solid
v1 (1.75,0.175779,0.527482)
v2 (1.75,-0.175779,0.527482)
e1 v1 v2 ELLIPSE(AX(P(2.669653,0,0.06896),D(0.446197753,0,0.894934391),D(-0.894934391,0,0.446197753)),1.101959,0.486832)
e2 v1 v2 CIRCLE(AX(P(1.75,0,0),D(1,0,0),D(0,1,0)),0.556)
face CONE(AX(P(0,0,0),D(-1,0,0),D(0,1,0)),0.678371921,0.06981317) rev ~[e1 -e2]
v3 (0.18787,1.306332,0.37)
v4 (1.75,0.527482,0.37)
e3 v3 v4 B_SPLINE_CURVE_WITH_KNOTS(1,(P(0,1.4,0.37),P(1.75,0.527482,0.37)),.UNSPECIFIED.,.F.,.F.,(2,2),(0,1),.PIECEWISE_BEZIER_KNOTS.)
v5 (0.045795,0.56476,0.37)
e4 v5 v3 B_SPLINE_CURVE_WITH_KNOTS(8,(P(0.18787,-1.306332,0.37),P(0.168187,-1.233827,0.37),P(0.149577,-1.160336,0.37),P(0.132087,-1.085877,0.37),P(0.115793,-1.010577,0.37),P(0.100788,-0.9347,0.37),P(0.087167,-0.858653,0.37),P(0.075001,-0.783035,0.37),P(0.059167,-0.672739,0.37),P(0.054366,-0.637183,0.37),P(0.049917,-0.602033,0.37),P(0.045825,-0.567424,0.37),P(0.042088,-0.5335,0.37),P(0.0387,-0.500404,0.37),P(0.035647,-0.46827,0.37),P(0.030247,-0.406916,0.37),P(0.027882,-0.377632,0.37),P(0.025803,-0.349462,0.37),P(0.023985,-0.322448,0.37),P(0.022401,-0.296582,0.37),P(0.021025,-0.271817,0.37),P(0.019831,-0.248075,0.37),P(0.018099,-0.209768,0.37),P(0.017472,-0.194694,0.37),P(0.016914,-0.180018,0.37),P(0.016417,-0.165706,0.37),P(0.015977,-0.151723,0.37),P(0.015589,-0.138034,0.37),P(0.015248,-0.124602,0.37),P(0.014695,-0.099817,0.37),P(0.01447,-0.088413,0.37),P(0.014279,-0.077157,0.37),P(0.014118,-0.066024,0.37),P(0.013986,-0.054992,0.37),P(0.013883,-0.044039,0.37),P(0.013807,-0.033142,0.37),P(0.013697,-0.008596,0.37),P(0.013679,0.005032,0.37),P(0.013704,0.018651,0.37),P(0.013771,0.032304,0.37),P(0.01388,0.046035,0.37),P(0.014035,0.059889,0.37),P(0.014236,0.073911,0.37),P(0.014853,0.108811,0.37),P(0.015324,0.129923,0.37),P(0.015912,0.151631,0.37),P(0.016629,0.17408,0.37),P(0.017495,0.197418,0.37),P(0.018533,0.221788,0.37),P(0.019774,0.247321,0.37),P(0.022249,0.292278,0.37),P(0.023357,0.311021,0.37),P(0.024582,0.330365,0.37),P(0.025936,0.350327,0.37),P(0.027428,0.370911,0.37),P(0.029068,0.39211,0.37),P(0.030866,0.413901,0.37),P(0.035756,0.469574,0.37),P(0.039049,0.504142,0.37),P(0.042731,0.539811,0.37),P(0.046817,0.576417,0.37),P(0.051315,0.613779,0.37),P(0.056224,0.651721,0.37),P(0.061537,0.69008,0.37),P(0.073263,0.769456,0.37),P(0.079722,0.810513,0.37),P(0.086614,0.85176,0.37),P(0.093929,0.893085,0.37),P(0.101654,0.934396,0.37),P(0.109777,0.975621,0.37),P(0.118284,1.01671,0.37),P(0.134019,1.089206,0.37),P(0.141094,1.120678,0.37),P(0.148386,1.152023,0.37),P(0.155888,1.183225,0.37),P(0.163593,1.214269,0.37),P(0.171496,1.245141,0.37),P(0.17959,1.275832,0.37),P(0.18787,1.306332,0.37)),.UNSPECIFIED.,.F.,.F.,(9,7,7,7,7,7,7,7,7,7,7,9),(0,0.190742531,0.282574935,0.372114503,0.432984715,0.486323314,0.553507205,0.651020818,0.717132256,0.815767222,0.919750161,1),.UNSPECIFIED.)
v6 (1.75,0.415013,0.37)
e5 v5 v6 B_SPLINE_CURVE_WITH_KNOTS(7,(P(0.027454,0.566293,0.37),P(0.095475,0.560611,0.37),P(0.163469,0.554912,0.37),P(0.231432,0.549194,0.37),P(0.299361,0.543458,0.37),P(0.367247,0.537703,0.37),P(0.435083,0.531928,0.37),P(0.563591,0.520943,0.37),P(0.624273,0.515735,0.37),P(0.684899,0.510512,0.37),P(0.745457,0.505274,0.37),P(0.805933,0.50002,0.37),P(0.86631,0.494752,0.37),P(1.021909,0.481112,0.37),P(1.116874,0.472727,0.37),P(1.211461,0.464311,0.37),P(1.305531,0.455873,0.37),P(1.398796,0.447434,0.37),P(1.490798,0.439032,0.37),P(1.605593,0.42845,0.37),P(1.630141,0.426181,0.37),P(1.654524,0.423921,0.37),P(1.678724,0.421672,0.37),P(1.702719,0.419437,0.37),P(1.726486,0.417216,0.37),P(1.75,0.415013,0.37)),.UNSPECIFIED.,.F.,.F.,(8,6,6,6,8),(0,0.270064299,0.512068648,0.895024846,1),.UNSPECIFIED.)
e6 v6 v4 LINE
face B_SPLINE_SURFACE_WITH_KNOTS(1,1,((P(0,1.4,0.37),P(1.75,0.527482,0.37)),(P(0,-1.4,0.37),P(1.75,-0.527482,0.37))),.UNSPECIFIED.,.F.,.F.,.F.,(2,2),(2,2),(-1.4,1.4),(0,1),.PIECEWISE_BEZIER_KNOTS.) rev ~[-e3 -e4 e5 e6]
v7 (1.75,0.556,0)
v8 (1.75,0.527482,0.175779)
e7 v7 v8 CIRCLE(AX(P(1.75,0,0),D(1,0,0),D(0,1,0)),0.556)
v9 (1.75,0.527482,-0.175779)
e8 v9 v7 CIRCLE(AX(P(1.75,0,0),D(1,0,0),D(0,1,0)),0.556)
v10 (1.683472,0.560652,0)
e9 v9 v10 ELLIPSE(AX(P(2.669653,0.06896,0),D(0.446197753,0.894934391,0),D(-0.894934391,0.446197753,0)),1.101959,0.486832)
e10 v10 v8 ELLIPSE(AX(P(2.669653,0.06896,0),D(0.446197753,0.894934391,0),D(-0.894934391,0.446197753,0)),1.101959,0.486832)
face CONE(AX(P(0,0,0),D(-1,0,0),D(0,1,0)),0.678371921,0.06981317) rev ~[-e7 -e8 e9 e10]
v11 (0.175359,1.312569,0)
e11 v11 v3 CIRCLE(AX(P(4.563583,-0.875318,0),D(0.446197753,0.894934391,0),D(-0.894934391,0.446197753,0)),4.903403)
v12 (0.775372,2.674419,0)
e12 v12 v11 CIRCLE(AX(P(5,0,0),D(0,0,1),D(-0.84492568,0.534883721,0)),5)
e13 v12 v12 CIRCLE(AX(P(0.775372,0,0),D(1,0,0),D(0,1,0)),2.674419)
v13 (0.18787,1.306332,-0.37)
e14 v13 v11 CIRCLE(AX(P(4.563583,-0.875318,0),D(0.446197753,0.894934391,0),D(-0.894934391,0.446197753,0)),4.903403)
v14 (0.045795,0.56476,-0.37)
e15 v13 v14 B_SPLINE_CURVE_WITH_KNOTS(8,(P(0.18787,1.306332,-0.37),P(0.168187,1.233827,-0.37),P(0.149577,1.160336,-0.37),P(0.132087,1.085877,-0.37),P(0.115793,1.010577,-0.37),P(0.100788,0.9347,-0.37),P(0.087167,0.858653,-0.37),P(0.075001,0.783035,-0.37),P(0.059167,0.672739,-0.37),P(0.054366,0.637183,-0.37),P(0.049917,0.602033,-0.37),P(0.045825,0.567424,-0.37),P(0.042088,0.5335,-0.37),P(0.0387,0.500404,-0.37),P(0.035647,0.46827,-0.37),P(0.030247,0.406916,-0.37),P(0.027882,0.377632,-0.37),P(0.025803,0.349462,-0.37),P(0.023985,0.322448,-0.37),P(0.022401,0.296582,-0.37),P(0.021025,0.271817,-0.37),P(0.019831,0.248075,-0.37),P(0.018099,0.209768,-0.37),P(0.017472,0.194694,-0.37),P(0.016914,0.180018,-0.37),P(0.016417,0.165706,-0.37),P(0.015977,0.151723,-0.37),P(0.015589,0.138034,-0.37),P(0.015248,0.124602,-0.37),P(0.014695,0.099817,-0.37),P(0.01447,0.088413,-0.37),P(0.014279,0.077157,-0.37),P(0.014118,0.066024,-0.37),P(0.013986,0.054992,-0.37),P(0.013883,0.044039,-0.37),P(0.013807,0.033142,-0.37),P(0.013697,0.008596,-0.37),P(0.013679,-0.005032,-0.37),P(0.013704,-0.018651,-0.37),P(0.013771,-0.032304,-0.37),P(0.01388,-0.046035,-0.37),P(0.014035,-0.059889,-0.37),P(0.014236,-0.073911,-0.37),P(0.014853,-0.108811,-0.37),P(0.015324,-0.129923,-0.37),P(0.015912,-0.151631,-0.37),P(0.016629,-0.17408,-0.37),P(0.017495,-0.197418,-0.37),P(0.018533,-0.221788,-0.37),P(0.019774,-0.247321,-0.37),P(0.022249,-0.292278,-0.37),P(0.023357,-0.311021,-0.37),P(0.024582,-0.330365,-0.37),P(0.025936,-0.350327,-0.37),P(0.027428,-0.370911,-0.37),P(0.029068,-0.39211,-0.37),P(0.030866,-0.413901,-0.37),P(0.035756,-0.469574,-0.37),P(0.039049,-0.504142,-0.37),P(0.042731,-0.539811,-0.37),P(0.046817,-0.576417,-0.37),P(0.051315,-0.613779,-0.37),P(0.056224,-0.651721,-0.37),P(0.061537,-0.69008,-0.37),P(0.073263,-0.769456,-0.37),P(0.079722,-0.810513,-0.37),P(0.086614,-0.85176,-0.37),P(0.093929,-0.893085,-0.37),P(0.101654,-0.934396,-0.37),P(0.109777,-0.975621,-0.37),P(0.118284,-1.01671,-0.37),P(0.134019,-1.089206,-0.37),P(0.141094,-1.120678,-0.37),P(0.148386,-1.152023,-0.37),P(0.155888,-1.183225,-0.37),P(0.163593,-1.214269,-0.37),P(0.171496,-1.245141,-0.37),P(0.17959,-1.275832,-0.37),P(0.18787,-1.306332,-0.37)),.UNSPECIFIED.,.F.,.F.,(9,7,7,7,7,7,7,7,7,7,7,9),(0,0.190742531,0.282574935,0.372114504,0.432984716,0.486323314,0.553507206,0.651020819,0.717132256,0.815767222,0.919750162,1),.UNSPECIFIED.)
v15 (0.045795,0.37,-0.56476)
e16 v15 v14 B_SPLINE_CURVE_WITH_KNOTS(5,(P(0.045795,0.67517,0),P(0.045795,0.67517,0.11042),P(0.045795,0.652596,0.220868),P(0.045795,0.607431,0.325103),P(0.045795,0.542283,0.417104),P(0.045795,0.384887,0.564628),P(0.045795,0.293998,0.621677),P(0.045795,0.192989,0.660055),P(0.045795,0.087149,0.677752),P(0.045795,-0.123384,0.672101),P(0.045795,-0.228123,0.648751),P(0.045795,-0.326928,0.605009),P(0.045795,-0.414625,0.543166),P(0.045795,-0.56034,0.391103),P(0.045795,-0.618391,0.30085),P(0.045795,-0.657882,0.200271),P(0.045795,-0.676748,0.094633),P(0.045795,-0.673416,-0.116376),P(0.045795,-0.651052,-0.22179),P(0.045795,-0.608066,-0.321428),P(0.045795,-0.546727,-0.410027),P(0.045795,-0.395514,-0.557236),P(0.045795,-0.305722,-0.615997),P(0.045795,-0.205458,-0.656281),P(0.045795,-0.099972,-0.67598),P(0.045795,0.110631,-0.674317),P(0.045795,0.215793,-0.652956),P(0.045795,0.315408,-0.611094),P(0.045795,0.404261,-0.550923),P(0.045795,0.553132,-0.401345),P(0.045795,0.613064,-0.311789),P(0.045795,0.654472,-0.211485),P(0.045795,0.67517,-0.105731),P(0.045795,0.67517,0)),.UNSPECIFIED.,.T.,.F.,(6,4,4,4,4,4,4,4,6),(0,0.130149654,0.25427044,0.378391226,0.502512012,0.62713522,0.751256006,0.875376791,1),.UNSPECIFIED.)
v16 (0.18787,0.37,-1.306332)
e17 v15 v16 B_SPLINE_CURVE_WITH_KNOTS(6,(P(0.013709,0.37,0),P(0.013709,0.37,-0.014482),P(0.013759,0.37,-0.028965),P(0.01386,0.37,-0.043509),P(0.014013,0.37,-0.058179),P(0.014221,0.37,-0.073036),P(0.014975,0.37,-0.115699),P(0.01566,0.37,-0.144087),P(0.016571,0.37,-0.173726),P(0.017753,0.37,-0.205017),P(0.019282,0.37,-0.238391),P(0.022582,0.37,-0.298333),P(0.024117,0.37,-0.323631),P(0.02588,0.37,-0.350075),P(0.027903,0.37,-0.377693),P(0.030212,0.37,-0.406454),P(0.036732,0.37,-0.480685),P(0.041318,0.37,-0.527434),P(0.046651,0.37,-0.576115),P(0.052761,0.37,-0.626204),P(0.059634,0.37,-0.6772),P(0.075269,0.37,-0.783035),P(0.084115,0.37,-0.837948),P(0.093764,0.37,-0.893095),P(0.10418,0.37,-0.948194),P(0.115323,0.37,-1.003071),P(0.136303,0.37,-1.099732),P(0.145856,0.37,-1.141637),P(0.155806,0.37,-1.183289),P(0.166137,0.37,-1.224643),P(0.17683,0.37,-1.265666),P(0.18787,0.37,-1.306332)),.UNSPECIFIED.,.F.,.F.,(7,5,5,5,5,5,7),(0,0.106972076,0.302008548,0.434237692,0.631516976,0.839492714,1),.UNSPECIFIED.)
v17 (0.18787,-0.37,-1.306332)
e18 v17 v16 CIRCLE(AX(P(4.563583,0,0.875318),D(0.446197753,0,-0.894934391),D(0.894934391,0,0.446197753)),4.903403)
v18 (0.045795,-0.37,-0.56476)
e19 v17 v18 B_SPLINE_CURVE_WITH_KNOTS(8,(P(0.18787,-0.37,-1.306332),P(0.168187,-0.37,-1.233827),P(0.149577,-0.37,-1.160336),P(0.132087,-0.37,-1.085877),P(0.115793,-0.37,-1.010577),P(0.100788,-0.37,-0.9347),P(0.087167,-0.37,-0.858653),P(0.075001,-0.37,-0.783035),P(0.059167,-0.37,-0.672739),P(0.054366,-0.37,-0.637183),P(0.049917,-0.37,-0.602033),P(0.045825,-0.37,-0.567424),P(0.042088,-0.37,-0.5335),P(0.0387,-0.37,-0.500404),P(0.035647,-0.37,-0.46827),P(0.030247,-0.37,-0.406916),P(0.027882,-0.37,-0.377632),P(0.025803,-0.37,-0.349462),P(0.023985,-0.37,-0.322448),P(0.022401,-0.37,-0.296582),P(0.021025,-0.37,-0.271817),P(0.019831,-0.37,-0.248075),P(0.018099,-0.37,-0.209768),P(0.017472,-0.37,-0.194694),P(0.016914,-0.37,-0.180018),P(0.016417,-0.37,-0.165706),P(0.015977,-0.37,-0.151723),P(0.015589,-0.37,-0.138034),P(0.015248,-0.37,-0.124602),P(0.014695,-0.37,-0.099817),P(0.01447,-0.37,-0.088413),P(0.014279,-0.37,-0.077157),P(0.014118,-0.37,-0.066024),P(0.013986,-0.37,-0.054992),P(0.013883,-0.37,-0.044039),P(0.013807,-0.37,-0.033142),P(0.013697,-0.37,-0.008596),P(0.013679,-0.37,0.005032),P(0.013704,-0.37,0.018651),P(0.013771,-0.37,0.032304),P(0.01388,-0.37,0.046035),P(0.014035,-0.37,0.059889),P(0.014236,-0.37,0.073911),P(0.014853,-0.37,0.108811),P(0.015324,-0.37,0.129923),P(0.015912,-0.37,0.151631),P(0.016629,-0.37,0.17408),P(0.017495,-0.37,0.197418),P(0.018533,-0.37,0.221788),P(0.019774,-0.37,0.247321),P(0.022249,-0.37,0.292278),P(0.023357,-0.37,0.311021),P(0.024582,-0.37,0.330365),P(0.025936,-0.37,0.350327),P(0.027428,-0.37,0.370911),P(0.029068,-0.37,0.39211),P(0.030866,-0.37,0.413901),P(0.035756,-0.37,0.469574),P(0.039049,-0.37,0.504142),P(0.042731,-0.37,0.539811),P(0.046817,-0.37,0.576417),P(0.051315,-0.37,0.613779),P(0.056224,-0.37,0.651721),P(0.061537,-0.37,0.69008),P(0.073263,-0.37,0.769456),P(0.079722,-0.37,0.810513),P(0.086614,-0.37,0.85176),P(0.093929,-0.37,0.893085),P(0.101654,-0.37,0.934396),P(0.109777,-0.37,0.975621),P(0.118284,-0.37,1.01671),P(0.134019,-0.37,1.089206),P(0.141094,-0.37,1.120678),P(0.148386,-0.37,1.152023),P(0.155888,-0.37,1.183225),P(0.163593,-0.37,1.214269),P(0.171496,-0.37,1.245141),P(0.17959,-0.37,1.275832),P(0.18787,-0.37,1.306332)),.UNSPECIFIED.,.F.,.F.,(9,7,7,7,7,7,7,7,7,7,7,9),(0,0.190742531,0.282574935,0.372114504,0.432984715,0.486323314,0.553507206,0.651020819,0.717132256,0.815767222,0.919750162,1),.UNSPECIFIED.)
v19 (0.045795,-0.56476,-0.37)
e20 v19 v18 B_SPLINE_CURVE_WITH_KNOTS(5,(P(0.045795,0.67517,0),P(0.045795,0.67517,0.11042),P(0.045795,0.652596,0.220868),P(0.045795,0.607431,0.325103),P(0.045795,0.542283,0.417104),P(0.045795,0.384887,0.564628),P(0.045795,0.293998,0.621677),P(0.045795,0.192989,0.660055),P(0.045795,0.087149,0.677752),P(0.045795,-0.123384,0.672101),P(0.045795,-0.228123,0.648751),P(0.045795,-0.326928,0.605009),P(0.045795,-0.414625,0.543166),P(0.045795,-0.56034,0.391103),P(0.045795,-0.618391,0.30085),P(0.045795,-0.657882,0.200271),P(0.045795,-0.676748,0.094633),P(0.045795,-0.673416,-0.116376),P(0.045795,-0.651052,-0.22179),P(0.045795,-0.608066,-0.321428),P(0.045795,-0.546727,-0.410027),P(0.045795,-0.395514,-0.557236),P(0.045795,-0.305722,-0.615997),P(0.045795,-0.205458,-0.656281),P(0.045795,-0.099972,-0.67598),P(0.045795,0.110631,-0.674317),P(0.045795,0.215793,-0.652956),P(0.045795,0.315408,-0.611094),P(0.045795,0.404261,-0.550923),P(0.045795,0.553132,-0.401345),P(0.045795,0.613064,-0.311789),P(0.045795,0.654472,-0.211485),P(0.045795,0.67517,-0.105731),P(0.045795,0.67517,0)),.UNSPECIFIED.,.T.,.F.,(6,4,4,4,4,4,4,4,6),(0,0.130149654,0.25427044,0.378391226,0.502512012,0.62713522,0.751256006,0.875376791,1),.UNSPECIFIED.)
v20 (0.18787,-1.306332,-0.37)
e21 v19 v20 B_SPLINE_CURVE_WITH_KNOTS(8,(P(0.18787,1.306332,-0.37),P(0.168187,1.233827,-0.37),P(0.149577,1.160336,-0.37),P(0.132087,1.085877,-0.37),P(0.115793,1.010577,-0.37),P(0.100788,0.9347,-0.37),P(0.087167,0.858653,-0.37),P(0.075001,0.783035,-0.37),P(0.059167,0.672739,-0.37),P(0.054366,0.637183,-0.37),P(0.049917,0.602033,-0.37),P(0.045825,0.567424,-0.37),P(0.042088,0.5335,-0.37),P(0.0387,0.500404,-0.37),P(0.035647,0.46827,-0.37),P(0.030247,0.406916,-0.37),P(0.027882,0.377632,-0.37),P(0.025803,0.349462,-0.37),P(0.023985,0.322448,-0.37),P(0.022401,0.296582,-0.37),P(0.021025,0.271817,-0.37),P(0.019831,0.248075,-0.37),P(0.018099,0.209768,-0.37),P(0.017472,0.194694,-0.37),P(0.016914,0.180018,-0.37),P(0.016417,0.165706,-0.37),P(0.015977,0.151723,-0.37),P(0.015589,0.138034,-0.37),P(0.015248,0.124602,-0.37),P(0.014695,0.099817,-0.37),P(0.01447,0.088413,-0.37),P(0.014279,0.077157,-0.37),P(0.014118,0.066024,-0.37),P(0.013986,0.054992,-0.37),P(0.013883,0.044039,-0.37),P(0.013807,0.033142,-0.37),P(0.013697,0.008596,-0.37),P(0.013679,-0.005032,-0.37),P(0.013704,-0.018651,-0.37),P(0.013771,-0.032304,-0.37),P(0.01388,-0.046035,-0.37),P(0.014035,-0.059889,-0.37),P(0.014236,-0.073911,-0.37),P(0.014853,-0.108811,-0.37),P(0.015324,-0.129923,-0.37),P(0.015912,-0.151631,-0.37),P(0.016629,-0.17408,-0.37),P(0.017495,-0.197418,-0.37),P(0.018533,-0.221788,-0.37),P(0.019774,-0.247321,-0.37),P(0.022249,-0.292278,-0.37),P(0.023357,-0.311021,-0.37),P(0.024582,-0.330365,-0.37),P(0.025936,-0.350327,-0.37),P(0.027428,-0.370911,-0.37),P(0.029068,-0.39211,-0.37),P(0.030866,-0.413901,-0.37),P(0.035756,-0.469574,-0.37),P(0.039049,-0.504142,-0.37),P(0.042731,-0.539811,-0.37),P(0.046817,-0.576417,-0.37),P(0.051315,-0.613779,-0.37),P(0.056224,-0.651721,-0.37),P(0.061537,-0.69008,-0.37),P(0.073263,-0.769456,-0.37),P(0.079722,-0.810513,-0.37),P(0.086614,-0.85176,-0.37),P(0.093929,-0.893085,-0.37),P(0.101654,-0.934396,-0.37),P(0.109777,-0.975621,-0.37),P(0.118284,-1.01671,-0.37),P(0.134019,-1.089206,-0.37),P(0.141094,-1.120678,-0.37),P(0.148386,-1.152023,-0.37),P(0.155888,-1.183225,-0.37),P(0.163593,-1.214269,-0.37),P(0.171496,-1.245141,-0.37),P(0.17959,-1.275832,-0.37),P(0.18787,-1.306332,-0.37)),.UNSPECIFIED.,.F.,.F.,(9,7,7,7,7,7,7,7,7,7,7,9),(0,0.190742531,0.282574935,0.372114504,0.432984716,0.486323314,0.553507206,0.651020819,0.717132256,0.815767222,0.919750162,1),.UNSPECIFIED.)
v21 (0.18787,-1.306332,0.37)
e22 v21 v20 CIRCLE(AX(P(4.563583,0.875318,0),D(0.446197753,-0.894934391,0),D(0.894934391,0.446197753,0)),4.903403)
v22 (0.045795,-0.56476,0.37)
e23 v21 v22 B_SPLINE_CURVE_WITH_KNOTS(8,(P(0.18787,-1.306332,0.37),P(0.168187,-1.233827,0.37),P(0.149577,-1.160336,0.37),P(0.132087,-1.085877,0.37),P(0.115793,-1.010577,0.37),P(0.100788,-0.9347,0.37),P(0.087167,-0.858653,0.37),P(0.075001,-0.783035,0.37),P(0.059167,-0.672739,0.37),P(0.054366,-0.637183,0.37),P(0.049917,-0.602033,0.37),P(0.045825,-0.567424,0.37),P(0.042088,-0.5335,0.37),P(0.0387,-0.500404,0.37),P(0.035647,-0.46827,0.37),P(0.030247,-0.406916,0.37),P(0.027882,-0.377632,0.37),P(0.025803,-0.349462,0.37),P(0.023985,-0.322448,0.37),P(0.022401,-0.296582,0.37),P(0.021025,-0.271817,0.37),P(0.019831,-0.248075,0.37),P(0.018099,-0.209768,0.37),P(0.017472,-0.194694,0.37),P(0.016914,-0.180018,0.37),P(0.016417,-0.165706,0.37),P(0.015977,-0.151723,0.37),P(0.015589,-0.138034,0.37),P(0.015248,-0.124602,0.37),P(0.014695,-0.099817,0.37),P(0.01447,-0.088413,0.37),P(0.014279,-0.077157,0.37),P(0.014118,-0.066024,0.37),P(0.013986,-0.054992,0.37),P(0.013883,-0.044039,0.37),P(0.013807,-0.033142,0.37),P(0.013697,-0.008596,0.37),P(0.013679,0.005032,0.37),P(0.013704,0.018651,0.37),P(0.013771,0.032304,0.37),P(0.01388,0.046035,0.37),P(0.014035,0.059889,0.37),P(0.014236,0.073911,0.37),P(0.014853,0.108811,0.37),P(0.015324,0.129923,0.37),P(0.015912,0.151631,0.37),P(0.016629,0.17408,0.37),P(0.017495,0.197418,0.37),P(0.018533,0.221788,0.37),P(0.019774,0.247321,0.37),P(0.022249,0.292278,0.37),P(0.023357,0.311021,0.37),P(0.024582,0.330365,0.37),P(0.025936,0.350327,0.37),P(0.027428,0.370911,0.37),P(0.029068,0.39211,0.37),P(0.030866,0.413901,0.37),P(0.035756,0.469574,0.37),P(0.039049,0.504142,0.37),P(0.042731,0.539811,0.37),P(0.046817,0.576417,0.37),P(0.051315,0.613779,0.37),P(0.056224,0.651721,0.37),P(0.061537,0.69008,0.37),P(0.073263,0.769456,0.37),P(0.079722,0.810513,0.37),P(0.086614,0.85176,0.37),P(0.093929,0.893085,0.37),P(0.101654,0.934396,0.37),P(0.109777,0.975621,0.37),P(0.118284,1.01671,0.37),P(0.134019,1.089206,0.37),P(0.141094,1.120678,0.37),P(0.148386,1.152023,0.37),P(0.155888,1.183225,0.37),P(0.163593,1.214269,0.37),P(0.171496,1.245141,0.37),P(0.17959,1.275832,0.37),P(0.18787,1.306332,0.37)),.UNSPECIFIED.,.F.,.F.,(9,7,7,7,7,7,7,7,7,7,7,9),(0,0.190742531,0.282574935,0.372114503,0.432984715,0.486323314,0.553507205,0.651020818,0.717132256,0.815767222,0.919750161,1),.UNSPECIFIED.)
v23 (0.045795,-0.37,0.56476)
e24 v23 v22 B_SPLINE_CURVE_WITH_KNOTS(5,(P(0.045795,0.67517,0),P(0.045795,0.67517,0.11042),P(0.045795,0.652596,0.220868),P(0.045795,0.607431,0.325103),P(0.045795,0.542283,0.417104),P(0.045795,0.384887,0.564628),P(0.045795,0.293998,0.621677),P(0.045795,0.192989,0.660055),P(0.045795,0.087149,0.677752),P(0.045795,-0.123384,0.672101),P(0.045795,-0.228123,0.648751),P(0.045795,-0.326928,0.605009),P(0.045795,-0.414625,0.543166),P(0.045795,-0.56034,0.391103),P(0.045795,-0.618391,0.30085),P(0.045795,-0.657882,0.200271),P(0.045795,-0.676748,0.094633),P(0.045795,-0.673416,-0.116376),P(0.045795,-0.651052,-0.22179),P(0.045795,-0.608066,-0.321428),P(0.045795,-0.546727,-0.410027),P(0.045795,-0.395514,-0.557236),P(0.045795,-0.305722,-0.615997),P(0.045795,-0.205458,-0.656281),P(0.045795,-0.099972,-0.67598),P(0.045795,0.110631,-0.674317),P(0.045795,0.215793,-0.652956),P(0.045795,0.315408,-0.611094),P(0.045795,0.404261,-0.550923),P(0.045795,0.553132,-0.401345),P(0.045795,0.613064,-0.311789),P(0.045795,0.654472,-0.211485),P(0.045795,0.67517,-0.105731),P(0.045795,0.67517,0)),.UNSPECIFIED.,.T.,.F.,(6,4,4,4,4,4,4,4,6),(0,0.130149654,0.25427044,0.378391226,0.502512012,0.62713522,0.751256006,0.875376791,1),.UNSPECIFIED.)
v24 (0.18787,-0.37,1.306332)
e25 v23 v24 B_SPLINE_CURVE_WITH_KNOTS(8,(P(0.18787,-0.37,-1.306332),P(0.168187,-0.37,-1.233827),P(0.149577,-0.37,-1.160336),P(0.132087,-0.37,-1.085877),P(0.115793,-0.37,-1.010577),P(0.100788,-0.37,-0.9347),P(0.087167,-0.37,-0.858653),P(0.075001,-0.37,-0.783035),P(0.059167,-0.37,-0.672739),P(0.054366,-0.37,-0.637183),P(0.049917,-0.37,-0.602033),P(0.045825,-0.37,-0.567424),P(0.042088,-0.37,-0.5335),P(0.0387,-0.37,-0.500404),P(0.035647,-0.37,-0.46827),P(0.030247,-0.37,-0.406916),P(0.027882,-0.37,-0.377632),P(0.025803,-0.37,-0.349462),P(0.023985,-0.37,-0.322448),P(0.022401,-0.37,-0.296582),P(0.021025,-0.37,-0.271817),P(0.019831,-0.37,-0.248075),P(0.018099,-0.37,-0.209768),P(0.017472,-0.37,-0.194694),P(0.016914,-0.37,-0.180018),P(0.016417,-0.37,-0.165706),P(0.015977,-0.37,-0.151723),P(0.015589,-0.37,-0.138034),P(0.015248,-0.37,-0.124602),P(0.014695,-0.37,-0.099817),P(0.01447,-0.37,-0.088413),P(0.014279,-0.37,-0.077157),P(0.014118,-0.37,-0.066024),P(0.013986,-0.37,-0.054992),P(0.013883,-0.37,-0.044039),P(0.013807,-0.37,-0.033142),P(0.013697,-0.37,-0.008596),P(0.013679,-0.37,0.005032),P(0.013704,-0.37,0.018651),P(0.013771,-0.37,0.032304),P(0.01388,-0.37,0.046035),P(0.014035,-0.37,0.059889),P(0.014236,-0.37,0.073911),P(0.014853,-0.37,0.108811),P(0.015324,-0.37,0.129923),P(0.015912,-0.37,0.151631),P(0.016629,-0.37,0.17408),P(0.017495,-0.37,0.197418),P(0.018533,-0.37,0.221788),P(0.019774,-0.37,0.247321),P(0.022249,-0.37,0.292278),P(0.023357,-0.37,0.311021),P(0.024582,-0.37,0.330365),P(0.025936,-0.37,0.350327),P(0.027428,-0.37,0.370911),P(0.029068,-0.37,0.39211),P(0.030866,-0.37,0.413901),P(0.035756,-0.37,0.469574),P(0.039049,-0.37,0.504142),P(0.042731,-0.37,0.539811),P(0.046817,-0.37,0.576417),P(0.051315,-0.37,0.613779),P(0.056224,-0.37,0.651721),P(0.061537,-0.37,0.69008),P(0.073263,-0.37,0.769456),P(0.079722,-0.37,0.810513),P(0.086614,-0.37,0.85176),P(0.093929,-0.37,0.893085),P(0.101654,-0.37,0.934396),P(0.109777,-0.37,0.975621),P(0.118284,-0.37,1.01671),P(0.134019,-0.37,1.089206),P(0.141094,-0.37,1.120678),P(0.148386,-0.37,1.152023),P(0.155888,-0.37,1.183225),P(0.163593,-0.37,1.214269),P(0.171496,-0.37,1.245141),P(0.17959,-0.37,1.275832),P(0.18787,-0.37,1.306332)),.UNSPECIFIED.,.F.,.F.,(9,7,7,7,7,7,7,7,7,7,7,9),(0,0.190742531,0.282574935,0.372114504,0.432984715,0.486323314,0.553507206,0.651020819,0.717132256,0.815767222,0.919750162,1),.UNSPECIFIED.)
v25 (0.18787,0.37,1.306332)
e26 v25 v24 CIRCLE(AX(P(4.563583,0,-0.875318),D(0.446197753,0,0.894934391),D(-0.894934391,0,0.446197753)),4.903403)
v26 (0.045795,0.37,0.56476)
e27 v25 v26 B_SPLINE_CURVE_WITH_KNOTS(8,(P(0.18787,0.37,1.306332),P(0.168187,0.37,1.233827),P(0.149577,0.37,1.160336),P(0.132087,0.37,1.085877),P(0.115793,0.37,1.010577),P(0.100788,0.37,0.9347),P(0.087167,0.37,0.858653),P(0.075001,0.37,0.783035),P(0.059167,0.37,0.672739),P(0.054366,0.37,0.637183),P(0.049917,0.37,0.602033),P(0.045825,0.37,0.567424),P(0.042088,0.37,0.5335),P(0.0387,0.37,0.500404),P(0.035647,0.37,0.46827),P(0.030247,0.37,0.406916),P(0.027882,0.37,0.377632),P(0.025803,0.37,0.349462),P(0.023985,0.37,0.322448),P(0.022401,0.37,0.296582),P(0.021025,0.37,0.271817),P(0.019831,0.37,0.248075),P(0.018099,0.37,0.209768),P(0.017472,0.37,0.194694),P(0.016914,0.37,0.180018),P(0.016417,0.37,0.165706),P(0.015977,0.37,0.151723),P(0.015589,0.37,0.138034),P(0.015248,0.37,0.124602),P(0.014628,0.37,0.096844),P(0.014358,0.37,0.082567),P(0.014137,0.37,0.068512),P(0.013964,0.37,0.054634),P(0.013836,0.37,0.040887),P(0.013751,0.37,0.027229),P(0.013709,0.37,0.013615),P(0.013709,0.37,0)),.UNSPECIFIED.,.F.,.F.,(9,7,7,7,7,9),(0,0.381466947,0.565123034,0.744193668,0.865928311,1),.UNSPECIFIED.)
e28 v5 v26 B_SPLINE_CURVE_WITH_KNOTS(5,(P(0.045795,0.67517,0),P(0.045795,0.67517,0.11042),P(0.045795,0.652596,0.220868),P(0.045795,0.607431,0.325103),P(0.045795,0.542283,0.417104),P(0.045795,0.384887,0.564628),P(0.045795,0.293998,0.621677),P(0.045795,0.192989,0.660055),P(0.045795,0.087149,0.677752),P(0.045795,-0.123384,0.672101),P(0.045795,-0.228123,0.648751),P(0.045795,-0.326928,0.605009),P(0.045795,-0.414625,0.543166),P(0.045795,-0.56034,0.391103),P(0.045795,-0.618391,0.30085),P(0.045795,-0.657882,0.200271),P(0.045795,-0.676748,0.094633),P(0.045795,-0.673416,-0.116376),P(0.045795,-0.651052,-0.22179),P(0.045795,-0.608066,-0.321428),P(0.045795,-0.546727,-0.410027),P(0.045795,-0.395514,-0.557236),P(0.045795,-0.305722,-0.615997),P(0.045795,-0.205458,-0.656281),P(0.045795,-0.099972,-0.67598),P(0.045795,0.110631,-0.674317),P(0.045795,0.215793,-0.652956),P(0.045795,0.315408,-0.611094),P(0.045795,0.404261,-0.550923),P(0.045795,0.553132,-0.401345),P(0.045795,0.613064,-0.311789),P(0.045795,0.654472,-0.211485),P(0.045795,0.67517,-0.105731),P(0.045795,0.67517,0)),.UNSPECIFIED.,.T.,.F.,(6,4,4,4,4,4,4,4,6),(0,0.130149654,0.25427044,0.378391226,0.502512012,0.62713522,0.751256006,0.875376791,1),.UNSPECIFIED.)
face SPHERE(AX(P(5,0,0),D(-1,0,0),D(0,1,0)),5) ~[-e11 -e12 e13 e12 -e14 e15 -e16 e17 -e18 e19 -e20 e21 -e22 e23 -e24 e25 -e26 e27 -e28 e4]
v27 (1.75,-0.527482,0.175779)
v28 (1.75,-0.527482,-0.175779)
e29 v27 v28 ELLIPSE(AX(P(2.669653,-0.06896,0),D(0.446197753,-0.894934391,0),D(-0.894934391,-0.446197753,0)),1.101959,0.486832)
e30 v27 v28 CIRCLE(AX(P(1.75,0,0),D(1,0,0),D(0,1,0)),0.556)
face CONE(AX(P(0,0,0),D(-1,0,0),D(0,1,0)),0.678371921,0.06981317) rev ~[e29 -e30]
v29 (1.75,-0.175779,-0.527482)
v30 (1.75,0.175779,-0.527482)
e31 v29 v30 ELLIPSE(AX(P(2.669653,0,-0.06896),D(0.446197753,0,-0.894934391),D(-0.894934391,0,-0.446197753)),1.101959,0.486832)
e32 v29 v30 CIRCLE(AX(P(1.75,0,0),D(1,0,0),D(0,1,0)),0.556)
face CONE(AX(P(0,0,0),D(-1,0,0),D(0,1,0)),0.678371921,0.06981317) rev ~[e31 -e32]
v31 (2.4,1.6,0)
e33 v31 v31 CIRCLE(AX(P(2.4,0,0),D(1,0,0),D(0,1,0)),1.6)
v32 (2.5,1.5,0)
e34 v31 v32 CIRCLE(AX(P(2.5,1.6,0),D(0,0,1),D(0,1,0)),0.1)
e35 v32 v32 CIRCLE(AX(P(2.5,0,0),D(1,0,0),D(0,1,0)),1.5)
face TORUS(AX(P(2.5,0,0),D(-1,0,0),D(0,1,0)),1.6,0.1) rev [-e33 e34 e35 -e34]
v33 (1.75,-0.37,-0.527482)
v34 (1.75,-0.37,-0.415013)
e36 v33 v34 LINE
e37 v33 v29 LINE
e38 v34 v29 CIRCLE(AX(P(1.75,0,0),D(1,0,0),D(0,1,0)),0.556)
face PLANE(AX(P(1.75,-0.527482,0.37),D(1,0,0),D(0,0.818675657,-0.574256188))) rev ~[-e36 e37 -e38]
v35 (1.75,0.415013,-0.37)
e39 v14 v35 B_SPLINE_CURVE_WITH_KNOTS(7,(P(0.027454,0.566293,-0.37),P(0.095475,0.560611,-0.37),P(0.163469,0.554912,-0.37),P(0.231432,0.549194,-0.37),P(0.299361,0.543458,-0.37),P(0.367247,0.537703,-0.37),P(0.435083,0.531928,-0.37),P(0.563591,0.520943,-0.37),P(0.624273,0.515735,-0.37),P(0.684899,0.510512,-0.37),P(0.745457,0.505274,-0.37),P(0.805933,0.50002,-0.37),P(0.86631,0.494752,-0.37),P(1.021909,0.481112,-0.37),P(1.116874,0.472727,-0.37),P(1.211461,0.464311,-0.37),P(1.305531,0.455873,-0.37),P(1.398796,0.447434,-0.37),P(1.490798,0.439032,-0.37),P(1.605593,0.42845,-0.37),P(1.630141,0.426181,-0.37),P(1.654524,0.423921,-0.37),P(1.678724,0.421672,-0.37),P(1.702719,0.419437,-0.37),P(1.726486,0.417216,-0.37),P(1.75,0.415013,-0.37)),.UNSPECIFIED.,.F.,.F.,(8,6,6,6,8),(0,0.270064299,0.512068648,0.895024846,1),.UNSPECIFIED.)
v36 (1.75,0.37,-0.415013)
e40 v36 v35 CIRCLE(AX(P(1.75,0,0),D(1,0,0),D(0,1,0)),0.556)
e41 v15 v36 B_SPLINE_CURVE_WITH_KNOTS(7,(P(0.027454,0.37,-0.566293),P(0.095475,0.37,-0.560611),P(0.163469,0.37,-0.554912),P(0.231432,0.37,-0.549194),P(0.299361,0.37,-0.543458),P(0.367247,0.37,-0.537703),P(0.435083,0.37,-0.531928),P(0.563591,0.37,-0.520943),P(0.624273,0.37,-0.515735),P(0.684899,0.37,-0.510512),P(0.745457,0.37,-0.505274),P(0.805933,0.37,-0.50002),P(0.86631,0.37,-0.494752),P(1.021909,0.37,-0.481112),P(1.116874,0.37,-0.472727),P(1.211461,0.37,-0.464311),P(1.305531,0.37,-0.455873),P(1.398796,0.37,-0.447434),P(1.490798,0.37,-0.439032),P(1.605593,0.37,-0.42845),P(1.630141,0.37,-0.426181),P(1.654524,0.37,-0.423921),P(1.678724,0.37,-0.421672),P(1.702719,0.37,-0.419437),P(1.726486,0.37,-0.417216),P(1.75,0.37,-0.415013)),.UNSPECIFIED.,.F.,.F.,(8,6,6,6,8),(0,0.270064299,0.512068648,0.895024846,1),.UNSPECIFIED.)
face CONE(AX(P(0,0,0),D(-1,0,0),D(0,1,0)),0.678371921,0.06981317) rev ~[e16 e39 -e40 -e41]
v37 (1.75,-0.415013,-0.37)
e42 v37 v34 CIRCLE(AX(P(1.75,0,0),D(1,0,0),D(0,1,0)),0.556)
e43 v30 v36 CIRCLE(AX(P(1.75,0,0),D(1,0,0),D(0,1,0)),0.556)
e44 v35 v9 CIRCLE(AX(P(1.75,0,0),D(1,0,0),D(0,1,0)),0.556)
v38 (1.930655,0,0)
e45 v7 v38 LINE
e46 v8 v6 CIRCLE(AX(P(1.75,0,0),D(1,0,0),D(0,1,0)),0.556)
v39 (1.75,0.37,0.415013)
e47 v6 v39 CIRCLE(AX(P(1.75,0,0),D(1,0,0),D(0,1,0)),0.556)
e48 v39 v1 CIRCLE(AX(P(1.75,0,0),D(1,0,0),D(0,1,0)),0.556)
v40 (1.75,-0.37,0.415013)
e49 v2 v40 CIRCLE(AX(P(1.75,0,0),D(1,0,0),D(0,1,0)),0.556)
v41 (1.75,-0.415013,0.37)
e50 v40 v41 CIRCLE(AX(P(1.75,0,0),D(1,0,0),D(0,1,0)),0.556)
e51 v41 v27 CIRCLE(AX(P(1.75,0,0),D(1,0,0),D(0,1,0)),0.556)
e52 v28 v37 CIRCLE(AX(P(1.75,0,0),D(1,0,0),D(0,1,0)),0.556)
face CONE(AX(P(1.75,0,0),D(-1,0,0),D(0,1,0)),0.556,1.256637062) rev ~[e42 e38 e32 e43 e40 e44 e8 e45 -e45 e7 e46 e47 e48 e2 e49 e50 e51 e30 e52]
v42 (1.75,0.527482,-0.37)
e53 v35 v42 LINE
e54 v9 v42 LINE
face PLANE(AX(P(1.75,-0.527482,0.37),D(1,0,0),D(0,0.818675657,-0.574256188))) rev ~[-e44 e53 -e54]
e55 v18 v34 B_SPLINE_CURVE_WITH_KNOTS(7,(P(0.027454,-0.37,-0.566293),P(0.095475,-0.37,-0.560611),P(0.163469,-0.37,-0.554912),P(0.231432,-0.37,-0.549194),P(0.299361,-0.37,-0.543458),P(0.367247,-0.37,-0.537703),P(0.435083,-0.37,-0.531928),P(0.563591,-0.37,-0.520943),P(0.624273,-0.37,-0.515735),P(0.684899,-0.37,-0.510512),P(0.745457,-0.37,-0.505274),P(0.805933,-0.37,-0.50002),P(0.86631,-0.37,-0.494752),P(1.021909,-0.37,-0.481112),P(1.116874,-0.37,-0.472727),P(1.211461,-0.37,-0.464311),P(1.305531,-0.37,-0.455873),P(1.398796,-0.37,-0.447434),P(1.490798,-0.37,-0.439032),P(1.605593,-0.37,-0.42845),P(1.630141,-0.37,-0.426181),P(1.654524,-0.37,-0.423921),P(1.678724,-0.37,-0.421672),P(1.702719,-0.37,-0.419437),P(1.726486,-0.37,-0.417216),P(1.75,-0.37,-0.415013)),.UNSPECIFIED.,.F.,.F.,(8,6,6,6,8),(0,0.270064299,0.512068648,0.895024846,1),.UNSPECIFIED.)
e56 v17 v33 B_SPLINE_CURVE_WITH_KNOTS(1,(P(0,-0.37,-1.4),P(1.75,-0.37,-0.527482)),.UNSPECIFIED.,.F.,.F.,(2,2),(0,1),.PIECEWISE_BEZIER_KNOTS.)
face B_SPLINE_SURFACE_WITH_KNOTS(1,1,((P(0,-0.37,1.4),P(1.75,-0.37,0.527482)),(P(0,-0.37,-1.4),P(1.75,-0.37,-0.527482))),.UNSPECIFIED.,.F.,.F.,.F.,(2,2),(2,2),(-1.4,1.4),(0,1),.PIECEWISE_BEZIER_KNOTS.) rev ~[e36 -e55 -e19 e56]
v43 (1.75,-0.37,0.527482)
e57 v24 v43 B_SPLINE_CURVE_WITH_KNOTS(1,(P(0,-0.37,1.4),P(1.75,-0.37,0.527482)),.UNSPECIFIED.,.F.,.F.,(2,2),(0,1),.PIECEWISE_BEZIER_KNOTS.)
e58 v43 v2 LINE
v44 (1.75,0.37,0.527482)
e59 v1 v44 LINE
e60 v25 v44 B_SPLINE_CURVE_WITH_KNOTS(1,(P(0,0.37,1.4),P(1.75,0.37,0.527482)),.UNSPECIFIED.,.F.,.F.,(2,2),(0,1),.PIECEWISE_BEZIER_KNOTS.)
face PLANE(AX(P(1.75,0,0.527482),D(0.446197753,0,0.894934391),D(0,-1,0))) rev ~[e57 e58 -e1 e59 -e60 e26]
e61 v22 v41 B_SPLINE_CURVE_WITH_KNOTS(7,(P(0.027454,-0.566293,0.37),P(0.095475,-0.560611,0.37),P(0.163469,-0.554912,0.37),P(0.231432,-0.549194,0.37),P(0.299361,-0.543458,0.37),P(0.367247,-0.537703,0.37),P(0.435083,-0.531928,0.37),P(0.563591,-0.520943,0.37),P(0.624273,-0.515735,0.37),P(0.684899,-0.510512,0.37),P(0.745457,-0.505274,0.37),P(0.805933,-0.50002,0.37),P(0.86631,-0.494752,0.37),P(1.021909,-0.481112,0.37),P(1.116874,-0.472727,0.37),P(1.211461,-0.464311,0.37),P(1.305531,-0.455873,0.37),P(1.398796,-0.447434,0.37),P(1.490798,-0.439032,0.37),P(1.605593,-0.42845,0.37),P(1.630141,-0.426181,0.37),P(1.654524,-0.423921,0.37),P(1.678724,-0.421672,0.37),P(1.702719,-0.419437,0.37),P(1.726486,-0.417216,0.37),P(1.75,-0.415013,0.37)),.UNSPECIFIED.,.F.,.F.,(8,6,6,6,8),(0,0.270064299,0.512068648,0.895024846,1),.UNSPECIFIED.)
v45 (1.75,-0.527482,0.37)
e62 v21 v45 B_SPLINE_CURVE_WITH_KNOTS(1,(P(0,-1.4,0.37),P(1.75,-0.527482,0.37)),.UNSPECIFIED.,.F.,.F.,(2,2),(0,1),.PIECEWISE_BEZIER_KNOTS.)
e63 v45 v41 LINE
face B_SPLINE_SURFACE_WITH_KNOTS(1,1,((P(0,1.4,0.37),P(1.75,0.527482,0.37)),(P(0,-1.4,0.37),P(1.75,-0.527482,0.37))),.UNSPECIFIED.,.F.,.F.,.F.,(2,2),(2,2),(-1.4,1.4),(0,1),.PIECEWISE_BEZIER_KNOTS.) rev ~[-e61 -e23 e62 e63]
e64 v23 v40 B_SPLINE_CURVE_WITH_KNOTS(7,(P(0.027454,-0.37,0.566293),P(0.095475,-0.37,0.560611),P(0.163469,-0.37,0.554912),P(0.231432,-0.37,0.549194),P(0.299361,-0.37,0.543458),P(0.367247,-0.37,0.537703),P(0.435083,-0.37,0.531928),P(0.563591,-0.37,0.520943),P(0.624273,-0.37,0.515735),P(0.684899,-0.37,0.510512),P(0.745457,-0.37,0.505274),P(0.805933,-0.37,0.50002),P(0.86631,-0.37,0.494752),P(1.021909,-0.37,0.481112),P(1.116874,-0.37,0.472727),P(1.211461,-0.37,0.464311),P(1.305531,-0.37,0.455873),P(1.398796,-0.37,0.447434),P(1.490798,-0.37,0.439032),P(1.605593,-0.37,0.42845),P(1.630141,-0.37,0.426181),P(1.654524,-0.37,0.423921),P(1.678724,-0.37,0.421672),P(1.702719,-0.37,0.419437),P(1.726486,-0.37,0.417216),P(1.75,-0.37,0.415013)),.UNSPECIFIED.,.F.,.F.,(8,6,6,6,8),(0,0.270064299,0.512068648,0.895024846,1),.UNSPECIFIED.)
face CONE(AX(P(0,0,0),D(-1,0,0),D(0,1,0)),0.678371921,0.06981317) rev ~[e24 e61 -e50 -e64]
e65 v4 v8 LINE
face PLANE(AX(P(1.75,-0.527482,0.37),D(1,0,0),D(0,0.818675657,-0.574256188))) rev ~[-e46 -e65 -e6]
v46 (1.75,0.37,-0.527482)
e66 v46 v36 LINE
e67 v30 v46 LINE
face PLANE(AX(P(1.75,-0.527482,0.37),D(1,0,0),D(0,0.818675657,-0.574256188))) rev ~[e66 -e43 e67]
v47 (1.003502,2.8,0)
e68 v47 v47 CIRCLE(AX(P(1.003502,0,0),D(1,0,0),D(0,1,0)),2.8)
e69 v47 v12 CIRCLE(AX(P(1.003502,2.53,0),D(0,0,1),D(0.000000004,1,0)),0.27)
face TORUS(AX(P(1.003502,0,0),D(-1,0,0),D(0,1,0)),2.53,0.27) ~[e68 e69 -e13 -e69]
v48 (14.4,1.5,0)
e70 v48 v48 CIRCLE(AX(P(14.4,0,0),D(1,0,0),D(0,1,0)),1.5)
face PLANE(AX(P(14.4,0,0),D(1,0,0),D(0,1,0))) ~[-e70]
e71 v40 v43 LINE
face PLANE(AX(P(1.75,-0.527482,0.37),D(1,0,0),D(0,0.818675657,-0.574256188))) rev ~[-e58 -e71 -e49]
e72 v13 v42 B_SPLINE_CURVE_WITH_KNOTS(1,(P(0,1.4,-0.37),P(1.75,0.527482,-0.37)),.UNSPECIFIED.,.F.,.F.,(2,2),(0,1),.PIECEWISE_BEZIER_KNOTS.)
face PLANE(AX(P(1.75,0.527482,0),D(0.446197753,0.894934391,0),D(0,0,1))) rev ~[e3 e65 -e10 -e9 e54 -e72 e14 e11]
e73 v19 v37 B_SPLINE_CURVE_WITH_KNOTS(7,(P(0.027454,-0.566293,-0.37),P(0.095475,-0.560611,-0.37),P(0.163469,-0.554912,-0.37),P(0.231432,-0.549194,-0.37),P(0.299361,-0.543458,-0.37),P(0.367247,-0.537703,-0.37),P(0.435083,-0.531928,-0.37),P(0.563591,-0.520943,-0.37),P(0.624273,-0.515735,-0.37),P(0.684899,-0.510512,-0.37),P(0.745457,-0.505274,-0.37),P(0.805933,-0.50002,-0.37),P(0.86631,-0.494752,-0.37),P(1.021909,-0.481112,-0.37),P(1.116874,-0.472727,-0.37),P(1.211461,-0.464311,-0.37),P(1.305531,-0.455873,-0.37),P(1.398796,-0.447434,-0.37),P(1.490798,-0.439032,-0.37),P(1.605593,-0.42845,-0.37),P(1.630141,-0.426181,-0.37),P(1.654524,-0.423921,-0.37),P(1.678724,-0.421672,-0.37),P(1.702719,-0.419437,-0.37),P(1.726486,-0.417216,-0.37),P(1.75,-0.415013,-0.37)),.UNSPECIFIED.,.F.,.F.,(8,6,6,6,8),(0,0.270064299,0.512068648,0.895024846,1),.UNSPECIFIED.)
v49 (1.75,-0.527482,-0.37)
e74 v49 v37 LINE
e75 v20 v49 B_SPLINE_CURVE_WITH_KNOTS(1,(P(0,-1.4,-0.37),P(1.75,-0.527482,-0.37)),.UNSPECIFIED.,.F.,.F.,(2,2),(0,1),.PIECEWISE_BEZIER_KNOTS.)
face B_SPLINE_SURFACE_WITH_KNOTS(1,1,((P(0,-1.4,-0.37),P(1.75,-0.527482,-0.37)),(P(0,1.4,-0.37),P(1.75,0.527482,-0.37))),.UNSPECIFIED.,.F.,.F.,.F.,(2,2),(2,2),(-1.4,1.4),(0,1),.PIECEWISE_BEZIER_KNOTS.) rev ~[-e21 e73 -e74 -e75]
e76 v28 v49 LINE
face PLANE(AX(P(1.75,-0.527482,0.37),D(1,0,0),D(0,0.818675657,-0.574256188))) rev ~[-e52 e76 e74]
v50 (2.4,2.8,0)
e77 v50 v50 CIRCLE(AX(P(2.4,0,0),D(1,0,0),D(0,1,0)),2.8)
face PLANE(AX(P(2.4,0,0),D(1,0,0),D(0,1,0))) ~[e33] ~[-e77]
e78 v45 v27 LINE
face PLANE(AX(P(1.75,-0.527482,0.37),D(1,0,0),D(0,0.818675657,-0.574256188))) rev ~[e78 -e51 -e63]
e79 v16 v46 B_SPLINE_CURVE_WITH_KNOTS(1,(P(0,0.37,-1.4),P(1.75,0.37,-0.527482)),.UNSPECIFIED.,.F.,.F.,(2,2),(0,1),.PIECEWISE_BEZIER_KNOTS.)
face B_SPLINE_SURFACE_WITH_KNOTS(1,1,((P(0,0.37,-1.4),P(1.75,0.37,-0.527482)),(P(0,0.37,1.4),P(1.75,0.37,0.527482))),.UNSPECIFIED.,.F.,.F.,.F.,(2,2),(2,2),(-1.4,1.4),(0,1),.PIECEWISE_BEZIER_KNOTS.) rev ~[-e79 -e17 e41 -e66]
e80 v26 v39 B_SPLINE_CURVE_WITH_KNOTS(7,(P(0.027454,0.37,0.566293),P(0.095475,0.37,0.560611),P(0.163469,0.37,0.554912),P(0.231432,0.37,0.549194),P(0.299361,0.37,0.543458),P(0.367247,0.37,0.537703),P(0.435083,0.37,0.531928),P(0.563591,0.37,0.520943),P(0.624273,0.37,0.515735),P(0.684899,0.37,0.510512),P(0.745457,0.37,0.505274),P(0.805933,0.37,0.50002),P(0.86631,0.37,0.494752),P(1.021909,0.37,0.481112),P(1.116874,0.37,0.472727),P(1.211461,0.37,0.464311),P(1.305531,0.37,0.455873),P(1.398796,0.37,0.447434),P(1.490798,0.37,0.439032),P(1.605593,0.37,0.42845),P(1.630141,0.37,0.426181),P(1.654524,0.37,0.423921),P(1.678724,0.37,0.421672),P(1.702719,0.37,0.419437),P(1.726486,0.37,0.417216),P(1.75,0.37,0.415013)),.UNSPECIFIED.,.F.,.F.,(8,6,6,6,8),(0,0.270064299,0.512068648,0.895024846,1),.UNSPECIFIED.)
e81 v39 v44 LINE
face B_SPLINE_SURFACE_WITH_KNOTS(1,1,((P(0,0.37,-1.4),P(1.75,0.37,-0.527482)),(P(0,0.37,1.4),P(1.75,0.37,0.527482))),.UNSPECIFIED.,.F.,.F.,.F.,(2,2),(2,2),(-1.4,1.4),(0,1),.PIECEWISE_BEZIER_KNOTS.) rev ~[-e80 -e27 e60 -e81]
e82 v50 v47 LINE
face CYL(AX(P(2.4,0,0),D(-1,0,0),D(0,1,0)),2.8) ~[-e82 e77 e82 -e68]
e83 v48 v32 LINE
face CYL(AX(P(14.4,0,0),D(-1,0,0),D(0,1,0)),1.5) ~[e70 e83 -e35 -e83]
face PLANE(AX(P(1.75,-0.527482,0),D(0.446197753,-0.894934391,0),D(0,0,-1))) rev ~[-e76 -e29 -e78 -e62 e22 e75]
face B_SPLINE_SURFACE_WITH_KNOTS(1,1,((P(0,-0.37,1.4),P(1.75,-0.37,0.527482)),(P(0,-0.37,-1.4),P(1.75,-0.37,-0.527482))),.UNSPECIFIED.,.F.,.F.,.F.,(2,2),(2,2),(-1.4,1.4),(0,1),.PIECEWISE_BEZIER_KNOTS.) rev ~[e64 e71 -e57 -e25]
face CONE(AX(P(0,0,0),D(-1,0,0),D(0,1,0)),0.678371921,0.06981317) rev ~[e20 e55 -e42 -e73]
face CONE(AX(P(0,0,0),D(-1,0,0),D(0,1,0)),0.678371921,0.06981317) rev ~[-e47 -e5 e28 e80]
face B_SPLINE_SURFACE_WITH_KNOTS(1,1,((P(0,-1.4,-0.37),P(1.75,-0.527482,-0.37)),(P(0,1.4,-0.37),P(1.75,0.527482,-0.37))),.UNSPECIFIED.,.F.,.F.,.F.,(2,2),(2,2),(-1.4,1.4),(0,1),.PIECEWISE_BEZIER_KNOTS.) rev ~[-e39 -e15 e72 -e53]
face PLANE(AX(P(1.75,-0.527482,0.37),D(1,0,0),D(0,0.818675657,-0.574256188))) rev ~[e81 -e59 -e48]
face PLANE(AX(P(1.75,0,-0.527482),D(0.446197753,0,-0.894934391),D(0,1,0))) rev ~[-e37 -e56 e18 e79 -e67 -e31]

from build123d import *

# Parameters (mm, degrees)
FILLET1_R    = 0.1
SKETCH3_W    = 0.74
SKETCH3_H    = 2.8
SKETCH4_W    = 0.74
SKETCH4_H    = 1.054964664
RECPAT_COUNT = 2
RECPAT_ANGLE = 90


with BuildPart() as part:
    # BodySke → Base-Revolve (revolve)
    with BuildSketch(Plane.XY):
        with BuildLine():
            Line((2.4, 1.5), (2.4, 2.8))
            Line((2.4, 2.8), (1.003501533, 2.8))
            ThreePointArc((1.003501533, 2.8), (0.873295971, 2.76653015), (0.775371599, 2.674418605))
            ThreePointArc((0.775371599, 2.674418605), (0.197753546, 1.392274756), (0, 0))
            Line((0, 0), (14.4, 0))
            Line((14.4, 0), (14.4, 1.5))
            Line((14.4, 1.5), (2.4, 1.5))
        make_face()
    revolve(axis=Axis((-25.4, 0, 0), (1, 0, 0)))

    # Fillet1
    fillet1_edges = [part.edges().sort_by_distance(p)[0] for p in [
        (2.4, -1.5, 0),
    ]]
    fillet(fillet1_edges, radius=FILLET1_R)

    # Sketch3 → Recess section 0
    with BuildSketch(Plane(origin=(0, 0, 0), x_dir=(0, 0, -1), z_dir=(1, 0, 0))):
        Rectangle(SKETCH3_W, SKETCH3_H)
    # Sketch4 → Recess section 1
    with BuildSketch(Plane(origin=(1.75, 0, 0), x_dir=(0, 0, -1), z_dir=(1, 0, 0))):
        Rectangle(SKETCH4_W, SKETCH4_H)
    recess = loft(mode=Mode.SUBTRACT)

    # RecPat: Recess ×2 about axis
    recpat_axis = Axis((0, 0, 0), (1, 0, 0))
    for i in range(1, RECPAT_COUNT):
        add(recess.rotate(recpat_axis, i * RECPAT_ANGLE / (RECPAT_COUNT - 1)), mode=Mode.SUBTRACT)

    # RecCorSke → RecessCore (revolve, cut)
    with BuildSketch(Plane.XY):
        Polygon((0, 0), (0, 0.678371921), (1.75, 0.556), (1.930655351, 0), align=None)
    revolve(axis=Axis((-3.175, 0, 0), (1, 0, 0)), mode=Mode.SUBTRACT)


solid = part.part
